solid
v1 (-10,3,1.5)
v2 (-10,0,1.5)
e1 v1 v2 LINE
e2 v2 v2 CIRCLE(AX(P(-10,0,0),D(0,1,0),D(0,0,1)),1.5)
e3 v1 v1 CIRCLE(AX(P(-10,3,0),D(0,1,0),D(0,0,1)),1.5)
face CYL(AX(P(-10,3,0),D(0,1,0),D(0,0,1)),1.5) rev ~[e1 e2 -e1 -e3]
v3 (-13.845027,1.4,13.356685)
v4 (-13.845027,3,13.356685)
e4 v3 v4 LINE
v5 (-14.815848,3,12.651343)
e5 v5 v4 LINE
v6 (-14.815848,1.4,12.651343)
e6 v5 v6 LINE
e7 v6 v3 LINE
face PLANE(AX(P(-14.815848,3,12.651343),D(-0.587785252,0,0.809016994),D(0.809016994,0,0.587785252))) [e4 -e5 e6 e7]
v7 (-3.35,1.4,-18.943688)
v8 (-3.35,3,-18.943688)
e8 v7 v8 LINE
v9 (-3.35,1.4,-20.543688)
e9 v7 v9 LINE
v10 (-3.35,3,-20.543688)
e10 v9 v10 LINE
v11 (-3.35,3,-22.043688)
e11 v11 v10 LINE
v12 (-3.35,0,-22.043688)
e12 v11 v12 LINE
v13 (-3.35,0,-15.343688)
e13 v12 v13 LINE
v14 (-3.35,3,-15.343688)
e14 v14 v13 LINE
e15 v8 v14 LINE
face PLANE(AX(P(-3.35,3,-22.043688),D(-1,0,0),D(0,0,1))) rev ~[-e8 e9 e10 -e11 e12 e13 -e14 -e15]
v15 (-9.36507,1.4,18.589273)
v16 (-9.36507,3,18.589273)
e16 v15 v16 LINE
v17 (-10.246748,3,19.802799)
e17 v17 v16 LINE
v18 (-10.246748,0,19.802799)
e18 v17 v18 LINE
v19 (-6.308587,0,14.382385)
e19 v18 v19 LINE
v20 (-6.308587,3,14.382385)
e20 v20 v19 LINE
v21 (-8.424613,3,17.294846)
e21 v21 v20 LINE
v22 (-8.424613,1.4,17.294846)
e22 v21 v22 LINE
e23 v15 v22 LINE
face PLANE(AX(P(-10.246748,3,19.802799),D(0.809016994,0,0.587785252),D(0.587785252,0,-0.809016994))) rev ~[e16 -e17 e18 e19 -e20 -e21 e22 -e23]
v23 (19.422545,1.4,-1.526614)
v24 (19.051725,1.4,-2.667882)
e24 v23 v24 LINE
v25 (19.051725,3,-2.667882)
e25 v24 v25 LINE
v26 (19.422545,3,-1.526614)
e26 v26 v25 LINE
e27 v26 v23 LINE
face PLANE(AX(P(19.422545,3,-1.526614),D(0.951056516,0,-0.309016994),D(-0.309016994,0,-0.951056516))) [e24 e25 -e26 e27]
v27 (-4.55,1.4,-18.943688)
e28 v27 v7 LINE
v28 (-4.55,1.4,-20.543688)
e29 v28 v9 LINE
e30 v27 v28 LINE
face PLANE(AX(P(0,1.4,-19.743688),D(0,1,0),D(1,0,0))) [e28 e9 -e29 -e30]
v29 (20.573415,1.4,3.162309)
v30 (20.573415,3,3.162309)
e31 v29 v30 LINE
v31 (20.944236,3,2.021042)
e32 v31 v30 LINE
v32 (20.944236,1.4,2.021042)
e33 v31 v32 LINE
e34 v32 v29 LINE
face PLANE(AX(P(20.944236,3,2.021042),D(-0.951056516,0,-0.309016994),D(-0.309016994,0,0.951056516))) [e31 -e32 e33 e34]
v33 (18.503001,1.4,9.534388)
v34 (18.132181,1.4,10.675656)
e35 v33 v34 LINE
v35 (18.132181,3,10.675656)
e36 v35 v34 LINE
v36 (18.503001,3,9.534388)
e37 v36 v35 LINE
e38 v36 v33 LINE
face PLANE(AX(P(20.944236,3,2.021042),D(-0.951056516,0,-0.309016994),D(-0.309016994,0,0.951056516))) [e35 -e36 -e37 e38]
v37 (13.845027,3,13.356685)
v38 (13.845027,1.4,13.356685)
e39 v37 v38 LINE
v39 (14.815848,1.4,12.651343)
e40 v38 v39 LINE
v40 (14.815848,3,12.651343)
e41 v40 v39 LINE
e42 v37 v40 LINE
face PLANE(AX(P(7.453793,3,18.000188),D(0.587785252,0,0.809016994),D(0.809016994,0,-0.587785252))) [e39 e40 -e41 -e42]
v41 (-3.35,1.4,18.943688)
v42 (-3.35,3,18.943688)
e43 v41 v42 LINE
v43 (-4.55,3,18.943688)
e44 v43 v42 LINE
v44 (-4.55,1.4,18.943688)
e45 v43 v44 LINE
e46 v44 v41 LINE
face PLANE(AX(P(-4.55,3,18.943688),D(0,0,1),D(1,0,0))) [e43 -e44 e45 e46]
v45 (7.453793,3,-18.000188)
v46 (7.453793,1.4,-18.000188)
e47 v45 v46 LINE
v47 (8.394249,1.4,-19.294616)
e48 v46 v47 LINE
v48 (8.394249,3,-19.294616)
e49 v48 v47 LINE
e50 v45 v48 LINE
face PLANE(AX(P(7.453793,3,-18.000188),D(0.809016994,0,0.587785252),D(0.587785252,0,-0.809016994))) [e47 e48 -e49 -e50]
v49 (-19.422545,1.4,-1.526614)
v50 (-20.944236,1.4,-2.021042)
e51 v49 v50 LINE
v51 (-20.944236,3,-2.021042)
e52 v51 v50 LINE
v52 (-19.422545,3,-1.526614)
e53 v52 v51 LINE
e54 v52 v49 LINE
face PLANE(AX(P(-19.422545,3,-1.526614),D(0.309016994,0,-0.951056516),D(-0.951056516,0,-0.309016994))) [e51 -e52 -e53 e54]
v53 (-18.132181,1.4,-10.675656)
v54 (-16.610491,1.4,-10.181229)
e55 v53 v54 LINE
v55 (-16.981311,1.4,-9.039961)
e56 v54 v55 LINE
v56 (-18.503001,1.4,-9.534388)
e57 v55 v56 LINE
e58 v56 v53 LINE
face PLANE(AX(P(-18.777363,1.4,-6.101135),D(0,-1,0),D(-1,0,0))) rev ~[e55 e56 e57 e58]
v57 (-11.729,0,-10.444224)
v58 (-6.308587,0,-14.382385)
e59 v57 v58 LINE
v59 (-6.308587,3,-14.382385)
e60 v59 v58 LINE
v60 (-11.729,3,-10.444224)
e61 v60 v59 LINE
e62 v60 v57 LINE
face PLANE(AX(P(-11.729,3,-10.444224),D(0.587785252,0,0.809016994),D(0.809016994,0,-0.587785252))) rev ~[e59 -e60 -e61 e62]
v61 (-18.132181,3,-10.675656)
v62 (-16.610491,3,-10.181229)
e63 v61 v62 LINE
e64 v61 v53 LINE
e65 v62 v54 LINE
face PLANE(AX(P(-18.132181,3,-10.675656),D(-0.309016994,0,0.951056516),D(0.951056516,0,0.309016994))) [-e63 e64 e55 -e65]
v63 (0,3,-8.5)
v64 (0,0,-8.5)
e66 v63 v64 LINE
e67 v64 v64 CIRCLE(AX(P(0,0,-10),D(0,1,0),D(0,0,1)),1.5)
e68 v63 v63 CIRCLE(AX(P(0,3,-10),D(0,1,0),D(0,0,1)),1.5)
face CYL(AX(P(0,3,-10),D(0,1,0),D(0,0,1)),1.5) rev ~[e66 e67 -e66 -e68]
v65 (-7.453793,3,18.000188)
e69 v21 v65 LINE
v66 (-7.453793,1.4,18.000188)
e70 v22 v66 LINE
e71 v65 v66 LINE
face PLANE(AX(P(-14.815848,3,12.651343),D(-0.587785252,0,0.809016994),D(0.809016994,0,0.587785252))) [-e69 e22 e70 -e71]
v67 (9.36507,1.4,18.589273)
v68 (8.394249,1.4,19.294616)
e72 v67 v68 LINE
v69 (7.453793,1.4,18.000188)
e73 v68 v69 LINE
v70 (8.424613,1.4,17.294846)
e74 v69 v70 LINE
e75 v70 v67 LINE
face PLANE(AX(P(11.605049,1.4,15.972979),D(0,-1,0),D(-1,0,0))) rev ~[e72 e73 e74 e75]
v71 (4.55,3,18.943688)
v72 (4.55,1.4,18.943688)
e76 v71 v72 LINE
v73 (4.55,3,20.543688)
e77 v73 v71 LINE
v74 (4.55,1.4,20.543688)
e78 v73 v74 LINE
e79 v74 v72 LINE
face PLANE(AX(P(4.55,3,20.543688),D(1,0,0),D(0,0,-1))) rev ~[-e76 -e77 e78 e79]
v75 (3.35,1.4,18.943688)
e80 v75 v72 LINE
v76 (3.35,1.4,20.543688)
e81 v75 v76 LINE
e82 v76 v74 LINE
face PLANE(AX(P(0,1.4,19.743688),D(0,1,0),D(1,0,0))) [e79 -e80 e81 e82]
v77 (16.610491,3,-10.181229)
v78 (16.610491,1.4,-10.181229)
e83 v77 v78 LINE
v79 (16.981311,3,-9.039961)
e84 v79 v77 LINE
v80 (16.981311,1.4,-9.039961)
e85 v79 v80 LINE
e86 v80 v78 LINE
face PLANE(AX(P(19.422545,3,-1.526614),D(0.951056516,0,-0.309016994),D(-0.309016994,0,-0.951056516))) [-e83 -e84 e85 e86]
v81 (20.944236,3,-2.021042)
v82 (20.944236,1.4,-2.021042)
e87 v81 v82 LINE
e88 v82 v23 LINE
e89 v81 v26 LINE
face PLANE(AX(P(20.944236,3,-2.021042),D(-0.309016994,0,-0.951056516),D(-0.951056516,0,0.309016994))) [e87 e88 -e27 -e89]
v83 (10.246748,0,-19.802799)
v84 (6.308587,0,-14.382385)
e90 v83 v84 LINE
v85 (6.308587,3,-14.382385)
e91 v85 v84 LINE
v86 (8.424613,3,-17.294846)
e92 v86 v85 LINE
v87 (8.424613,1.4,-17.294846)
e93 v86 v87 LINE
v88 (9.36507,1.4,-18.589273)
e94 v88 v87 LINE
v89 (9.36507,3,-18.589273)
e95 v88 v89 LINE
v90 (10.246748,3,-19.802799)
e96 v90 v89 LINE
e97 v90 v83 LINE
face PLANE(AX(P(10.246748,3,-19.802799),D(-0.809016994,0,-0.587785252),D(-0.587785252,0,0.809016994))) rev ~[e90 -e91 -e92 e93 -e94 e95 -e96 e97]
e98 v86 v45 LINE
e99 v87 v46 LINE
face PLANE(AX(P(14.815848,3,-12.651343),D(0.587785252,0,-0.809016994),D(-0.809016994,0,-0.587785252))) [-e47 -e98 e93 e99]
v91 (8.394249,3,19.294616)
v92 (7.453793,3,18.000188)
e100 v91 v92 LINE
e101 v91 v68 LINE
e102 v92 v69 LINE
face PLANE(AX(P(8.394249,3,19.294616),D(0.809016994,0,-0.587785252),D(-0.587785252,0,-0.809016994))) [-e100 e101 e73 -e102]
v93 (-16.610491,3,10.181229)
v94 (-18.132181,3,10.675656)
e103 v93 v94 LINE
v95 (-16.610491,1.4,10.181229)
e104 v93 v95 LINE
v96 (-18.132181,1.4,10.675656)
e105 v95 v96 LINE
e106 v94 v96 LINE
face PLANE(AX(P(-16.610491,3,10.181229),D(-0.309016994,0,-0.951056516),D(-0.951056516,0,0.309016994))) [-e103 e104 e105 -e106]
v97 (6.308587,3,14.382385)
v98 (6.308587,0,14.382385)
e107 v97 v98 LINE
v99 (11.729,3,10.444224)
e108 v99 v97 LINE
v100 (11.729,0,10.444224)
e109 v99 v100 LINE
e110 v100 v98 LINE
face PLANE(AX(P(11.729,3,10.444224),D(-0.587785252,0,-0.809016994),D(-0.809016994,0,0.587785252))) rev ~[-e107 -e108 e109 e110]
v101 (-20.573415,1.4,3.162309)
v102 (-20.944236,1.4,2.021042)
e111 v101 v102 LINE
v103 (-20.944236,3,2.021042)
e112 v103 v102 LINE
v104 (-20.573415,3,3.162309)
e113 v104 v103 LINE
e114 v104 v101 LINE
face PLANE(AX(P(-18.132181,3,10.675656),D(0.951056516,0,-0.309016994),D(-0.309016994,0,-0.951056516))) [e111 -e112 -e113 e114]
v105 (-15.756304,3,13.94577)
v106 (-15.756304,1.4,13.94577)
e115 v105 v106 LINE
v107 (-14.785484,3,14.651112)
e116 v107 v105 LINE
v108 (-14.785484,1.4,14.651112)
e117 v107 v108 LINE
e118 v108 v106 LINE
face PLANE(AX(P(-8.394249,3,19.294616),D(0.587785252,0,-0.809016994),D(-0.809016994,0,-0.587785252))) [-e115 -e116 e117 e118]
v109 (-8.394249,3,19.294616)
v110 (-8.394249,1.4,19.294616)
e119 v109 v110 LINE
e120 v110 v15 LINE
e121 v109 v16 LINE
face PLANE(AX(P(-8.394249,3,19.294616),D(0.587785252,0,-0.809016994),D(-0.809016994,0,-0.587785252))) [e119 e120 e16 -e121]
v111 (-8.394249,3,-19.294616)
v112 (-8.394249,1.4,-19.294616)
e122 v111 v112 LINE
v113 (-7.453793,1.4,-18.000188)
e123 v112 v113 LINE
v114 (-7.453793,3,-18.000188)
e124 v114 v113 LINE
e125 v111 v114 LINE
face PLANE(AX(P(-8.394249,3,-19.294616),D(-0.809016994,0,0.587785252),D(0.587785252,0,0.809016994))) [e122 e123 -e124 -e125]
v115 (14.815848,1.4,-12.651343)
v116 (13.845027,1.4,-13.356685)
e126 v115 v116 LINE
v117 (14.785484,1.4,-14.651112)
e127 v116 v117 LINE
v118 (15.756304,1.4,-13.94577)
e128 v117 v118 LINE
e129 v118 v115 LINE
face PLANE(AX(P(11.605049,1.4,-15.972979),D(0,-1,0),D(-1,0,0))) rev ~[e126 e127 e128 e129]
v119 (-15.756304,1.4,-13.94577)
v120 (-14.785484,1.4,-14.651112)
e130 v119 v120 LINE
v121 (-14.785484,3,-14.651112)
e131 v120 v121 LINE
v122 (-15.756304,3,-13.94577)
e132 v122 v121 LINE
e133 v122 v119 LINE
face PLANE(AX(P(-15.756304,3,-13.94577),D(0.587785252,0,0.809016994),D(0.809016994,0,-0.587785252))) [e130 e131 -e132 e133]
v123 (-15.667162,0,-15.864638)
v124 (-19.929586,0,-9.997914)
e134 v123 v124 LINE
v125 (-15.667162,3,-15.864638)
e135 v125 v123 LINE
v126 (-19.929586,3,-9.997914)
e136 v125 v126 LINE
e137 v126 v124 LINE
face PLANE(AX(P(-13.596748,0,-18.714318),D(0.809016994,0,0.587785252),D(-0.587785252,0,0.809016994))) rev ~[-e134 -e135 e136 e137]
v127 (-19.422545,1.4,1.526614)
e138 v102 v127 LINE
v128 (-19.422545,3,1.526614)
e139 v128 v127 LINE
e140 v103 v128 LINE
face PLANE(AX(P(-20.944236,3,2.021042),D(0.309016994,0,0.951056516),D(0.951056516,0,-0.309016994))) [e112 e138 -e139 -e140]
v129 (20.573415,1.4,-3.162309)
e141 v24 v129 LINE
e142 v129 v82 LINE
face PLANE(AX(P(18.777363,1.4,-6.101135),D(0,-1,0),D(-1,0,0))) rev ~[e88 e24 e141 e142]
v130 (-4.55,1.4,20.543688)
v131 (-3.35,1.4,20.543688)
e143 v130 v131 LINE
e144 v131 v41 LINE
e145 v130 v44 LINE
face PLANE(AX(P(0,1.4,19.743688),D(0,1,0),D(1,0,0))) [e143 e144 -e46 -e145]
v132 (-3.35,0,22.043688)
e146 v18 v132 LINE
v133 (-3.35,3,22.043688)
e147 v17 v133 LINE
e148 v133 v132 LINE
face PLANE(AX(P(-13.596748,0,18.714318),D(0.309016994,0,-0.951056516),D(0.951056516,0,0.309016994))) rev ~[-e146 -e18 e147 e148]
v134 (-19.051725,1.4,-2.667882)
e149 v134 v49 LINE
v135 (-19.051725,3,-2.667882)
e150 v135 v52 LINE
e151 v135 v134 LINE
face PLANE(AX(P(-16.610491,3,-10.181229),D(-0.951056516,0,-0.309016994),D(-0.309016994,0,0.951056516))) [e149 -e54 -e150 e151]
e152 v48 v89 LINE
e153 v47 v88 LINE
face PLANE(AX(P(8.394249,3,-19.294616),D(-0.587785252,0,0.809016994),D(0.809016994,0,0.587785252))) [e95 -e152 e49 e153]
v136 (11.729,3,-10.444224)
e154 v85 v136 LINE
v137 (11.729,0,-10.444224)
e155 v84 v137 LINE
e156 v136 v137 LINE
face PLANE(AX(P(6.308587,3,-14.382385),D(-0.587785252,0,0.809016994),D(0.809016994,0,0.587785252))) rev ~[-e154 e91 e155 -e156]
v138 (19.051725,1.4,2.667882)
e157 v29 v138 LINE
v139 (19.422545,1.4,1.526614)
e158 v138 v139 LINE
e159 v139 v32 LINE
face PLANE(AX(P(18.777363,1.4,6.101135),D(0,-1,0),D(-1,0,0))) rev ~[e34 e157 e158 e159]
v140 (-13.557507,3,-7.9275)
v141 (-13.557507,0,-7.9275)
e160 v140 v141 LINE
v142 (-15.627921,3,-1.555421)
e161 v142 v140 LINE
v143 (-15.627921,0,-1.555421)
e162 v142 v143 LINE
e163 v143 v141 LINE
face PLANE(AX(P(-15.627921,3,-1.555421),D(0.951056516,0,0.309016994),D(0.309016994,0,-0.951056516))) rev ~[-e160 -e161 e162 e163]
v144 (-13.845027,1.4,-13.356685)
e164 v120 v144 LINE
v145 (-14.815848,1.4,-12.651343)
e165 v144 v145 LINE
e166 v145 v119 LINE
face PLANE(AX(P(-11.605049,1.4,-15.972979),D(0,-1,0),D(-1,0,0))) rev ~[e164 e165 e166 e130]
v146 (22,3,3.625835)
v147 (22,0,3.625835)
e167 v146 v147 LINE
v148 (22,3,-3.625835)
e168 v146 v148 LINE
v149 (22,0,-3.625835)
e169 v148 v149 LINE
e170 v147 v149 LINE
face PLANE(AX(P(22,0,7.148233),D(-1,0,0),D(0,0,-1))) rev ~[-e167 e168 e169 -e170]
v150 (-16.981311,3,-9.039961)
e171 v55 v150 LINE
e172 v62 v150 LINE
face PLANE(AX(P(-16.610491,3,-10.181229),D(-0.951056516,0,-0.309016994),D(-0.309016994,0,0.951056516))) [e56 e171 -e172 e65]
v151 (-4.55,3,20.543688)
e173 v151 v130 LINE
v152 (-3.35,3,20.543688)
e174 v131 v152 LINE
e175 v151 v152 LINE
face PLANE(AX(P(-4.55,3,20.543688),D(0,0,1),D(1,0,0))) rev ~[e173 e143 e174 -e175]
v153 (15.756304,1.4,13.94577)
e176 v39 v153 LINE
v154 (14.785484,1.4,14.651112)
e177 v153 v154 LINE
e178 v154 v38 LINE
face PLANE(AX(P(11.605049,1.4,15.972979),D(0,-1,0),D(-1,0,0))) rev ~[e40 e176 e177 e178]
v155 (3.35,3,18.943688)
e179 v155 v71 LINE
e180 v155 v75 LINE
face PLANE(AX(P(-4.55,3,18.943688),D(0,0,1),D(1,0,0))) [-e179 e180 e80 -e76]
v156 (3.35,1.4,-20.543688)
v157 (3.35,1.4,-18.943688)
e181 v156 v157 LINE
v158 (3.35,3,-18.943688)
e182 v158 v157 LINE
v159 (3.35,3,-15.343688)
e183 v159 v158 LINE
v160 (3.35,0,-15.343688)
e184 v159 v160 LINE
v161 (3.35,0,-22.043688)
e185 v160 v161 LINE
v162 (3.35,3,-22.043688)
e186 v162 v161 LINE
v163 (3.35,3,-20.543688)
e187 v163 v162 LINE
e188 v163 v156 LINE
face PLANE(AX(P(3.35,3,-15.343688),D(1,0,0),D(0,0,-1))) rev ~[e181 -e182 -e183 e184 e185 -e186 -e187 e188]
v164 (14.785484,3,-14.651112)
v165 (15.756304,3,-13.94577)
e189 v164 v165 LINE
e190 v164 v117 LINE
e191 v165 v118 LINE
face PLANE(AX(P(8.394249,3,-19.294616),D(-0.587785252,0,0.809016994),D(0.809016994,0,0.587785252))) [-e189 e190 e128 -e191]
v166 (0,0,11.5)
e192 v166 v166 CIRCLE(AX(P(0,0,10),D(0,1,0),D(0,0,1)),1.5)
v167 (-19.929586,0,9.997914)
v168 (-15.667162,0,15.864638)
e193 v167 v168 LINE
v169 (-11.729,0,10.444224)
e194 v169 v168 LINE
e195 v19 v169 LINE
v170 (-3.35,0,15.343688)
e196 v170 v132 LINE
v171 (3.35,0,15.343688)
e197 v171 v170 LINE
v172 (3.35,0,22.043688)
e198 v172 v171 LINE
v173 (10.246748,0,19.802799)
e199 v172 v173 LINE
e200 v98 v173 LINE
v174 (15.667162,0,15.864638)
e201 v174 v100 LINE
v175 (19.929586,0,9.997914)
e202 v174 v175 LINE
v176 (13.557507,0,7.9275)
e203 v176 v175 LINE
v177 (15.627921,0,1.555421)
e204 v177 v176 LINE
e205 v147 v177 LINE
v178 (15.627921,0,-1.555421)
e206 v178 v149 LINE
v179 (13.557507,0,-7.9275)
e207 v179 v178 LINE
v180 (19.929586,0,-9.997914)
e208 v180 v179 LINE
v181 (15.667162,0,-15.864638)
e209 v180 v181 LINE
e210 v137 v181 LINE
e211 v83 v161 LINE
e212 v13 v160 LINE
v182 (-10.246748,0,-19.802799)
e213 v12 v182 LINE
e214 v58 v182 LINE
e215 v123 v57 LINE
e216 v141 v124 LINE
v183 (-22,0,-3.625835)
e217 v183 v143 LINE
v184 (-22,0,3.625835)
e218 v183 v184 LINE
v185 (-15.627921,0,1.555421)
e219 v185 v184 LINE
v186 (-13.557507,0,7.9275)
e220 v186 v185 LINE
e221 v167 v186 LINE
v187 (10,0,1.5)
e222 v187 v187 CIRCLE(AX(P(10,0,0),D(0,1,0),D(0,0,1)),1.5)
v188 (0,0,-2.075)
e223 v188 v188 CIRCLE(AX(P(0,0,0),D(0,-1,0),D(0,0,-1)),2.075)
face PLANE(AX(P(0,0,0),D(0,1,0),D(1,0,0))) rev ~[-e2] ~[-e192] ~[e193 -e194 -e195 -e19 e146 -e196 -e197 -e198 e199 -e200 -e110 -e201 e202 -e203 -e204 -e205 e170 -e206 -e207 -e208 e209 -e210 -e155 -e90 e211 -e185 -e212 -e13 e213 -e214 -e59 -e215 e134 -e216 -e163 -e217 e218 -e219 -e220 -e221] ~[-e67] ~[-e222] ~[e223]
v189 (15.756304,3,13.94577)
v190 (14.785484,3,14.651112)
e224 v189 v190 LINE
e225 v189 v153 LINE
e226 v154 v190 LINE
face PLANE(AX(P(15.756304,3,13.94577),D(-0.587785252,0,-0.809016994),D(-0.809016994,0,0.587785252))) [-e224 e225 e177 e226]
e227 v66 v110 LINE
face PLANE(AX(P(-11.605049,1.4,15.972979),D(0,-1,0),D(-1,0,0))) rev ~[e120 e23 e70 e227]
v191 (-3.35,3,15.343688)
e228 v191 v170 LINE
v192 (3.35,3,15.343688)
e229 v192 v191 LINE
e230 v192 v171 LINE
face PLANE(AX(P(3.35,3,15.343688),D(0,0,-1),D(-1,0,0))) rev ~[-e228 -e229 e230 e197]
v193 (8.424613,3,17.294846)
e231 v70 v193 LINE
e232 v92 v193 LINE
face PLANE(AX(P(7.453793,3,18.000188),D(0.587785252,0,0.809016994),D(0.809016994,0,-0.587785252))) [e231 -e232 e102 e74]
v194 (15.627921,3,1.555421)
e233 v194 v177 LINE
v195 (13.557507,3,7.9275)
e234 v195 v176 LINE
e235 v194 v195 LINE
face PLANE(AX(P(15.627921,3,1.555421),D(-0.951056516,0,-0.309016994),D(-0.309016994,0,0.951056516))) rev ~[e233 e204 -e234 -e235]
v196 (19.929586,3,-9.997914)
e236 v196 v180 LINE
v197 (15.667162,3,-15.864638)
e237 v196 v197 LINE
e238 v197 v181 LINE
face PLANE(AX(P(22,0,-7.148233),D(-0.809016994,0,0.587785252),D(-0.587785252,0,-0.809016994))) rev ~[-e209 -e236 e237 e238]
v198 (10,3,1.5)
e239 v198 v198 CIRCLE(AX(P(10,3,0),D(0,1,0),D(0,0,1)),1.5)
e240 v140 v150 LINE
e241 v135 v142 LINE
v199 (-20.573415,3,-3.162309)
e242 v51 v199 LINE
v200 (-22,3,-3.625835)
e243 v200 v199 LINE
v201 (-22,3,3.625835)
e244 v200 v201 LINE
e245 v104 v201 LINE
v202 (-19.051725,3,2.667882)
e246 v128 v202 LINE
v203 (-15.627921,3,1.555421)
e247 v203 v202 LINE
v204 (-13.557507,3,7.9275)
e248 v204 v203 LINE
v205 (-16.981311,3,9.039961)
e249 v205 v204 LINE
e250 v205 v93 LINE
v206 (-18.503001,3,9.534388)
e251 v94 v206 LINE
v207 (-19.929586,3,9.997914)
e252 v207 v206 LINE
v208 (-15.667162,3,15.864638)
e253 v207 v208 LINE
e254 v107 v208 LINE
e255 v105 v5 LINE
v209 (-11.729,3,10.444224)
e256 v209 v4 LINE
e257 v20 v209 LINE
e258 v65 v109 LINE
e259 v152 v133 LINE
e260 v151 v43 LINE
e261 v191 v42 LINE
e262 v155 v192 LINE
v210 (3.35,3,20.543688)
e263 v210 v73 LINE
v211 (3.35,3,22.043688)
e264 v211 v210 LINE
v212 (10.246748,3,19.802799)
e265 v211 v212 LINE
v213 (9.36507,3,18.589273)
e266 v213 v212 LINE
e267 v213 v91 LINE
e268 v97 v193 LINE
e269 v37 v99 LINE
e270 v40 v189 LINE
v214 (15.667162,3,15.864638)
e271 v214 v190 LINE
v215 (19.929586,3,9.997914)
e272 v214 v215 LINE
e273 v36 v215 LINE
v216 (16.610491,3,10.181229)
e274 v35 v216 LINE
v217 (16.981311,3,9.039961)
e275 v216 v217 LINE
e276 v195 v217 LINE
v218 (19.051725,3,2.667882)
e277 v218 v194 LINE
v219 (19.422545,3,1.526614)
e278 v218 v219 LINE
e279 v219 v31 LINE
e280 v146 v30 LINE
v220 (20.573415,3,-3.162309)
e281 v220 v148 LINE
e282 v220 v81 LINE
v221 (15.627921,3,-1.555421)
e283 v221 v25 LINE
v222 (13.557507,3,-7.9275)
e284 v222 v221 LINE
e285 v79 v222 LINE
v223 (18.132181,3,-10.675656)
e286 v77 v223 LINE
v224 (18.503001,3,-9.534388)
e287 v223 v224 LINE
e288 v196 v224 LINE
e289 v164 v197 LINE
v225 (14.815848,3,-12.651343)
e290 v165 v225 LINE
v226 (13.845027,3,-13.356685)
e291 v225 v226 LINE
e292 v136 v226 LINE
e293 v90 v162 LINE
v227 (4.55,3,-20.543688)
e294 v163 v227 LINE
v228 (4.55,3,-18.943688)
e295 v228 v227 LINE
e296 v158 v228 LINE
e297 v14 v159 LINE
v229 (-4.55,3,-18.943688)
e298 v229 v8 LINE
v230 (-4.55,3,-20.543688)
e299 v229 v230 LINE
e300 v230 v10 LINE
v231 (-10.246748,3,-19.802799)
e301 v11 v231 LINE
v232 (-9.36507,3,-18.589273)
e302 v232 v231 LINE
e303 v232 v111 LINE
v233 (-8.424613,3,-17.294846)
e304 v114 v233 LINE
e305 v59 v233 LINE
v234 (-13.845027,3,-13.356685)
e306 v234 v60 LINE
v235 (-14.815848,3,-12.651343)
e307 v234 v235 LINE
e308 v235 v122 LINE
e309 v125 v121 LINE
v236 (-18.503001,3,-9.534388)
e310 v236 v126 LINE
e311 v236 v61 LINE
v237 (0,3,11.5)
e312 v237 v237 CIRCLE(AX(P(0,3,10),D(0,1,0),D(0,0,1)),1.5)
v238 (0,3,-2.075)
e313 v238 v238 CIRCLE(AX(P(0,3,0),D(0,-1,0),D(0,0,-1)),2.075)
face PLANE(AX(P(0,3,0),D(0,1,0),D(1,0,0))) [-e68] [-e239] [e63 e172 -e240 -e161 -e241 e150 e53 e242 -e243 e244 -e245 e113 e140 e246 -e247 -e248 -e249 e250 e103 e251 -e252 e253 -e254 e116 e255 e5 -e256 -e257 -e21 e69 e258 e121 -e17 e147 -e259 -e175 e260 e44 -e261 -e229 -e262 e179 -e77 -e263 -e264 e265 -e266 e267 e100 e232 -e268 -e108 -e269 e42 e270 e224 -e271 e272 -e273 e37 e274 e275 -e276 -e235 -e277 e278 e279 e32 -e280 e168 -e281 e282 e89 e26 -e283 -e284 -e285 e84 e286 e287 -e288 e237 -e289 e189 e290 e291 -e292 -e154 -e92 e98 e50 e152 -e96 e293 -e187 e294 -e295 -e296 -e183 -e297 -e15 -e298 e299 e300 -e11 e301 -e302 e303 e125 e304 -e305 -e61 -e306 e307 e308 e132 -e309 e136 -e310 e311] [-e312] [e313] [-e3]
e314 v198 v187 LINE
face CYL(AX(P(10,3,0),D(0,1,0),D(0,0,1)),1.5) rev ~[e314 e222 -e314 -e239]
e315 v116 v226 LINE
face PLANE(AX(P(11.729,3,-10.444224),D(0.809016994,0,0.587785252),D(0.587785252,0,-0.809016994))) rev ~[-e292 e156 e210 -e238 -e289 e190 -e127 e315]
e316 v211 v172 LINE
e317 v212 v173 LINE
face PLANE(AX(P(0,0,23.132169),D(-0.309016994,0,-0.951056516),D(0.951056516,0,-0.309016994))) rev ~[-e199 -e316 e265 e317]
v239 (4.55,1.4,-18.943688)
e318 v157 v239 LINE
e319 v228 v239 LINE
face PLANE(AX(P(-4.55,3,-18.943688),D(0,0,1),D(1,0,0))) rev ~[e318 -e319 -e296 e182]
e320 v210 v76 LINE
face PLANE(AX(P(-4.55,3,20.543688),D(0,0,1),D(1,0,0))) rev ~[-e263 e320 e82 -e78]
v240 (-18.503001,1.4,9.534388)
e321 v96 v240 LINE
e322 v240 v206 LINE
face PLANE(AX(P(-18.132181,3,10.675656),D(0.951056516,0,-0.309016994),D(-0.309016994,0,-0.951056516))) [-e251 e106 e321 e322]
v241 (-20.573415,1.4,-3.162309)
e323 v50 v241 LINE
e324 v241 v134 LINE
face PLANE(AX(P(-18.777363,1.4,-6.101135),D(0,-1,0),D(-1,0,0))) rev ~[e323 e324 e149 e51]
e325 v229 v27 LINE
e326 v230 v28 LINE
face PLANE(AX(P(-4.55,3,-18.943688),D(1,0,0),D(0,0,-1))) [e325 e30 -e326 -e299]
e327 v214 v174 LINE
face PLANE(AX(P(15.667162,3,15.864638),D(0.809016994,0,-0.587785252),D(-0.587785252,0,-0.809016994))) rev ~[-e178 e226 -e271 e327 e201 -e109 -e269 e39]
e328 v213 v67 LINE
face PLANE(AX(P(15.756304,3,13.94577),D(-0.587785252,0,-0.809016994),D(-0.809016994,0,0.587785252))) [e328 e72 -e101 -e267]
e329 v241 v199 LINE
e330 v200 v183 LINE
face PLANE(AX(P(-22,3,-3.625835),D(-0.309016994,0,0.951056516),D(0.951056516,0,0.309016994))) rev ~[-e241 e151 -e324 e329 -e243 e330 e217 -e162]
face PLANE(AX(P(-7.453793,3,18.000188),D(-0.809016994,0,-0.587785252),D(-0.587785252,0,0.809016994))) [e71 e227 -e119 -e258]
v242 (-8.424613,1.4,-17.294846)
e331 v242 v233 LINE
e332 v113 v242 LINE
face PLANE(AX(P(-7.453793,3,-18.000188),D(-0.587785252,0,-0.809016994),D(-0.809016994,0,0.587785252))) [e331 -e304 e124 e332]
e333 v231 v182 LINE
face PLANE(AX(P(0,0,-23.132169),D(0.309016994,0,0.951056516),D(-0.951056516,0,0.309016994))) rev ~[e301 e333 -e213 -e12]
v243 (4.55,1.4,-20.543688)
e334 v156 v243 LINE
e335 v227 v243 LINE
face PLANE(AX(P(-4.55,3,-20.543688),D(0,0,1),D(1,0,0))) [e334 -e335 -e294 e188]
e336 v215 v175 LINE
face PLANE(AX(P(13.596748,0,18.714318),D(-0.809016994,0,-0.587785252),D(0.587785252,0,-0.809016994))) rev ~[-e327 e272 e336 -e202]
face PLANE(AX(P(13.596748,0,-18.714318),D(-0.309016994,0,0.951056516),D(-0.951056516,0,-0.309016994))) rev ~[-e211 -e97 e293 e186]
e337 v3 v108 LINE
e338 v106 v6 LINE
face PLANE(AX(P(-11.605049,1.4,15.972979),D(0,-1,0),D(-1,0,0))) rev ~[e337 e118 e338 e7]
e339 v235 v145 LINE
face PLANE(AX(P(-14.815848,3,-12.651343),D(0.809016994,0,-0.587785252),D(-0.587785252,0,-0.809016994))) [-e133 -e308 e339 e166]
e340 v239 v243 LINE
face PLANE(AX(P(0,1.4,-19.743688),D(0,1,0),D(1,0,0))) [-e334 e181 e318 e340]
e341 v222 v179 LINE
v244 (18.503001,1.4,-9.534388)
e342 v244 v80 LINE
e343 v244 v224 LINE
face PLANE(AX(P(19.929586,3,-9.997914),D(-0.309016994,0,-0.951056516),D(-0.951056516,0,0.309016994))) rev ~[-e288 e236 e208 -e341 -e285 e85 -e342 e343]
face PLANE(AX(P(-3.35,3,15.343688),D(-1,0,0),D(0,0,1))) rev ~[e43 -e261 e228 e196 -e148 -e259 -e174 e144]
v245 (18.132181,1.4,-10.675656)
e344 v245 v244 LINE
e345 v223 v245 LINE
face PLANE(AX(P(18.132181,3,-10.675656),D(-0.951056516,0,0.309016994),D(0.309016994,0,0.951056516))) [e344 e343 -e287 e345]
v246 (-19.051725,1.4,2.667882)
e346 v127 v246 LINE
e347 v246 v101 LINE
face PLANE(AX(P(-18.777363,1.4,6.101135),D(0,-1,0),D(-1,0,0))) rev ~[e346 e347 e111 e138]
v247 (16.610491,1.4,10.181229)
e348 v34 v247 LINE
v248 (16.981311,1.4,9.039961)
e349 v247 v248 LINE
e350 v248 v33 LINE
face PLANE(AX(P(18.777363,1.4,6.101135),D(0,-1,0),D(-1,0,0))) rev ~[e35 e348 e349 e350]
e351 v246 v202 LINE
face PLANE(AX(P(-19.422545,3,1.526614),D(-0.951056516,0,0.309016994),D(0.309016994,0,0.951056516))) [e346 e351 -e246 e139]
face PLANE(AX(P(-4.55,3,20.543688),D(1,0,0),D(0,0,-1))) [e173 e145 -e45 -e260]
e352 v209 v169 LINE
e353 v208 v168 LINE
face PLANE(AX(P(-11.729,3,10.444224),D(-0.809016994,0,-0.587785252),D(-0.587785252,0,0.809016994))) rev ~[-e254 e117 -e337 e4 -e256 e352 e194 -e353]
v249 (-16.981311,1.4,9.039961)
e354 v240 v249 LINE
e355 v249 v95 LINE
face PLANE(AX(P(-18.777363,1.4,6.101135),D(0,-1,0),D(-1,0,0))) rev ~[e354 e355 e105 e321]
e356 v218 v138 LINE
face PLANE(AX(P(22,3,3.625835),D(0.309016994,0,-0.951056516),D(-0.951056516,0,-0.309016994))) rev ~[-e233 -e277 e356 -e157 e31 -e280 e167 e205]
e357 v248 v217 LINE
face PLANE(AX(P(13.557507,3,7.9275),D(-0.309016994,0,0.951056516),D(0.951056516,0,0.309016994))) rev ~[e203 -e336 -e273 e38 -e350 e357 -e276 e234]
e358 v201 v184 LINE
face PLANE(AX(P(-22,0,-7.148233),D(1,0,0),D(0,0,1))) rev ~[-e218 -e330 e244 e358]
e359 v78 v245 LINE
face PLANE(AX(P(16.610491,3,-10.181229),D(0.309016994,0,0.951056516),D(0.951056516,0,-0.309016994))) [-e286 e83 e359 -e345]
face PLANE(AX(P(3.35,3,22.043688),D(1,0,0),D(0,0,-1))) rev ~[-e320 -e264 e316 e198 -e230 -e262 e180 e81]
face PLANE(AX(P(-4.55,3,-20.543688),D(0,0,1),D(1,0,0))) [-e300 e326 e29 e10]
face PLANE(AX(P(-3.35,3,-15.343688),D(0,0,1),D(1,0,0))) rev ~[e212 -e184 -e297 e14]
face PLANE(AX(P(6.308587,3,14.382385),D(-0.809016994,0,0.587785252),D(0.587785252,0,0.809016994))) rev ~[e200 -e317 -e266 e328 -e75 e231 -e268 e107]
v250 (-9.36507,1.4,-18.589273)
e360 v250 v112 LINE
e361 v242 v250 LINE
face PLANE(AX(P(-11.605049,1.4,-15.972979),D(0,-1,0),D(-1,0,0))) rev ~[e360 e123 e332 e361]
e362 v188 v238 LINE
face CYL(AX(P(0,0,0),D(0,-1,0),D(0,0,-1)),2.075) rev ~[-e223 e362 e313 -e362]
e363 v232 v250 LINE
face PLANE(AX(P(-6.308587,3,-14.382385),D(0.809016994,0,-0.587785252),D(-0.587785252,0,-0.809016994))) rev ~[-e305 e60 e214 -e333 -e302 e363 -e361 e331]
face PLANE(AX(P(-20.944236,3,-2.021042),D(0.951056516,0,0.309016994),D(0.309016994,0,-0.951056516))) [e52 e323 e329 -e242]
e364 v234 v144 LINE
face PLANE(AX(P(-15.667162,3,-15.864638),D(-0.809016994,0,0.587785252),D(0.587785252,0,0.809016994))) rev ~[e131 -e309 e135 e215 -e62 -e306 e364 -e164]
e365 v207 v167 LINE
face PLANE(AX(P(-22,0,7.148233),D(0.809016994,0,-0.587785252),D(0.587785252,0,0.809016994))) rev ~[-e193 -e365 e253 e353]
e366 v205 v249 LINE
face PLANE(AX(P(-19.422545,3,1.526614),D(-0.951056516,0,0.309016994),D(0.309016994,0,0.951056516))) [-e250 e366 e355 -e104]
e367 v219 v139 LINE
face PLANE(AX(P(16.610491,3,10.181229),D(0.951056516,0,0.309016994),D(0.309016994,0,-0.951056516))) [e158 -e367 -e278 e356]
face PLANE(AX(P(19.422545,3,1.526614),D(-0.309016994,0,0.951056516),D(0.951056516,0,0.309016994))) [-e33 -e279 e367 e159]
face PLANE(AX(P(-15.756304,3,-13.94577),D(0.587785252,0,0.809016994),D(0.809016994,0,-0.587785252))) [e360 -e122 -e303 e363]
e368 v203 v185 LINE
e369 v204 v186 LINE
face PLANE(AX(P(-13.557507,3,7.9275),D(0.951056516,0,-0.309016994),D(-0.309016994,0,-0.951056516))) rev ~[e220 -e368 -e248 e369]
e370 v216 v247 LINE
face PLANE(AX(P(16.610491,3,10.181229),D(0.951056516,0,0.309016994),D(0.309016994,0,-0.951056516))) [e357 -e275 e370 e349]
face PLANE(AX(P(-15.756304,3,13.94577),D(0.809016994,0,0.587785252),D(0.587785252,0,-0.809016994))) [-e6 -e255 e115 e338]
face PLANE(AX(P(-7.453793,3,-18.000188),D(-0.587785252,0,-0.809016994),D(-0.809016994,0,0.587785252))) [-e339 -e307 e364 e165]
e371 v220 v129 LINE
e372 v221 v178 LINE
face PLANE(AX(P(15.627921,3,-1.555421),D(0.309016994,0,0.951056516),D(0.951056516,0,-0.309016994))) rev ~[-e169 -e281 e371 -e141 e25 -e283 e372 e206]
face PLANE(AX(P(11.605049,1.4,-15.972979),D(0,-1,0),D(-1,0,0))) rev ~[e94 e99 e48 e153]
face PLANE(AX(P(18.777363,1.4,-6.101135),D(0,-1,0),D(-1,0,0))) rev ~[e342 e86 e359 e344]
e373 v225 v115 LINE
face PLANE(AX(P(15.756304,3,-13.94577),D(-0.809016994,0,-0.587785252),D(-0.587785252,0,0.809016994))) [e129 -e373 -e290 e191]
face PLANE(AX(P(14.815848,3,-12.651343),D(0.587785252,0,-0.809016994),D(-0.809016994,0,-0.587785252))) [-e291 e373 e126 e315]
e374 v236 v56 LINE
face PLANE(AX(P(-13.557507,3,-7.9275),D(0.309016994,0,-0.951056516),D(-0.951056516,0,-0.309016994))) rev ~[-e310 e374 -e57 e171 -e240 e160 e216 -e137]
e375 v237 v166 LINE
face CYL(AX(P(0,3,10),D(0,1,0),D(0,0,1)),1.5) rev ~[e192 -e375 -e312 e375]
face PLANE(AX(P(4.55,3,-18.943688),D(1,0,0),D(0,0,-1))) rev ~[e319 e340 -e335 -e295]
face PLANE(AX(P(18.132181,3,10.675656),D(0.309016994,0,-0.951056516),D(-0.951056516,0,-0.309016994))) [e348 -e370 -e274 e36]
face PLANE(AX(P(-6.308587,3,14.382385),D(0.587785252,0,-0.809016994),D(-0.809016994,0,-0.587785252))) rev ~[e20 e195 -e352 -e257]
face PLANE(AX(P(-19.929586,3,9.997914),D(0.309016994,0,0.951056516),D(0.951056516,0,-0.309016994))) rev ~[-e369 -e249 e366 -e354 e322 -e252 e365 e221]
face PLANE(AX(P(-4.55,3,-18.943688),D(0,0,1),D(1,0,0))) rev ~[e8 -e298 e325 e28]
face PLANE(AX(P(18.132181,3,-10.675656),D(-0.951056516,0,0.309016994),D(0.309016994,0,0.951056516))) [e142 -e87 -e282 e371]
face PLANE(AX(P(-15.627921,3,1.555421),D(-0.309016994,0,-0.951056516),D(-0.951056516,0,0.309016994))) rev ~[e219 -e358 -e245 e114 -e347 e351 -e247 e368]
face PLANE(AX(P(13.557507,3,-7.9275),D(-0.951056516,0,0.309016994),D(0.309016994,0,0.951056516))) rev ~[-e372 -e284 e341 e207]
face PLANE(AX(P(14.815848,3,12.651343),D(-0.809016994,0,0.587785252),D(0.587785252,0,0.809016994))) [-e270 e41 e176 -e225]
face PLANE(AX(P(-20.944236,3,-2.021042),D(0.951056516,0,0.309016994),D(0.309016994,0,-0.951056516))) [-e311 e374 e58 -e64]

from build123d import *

# Parameters (mm, degrees)
BOSS_EXTRUDE1_DEPTH = 3
CUT_EXTRUDE1_DEPTH  = 3
SKETCH7_R           = 1.5
CUT_EXTRUDE3_DEPTH  = 3
SKETCH4_W           = 9.1
SKETCH4_H           = 1.6
CUT_EXTRUDE2_DEPTH  = 1.6
SKETCH10_R          = 2.075
CUT_EXTRUDE6_DEPTH  = 3


with BuildPart() as part:
    # Sketch1 → Boss-Extrude1 (new body)
    with BuildSketch(Plane(origin=(0, 0, 0), x_dir=(1, 0, 0), z_dir=(0, 1, 0))):
        Polygon((0, 23.132168933), (-13.596747752, 18.714317784), (-22, 7.148233317), (-22, -7.148233317), (-13.596747752, -18.714317784), (0, -23.132168933), (13.596747752, -18.714317784), (22, -7.148233317), (22, 7.148233317), (13.596747752, 18.714317784), align=None)
    extrude(amount=BOSS_EXTRUDE1_DEPTH)

    # Sketch2 → Cut-Extrude1 (cut)
    with BuildSketch(Plane(origin=(0, 3, 0), x_dir=(1, 0, 0), z_dir=(0, 1, 0))):
        Polygon((0, 23.132168933), (-3.35, 22.043687951), (-3.35, 15.343687951), (3.35, 15.343687951), (3.35, 22.043687951), align=None)
        Polygon((11.729000424, 10.444223713), (15.667161615, 15.864637576), (13.596747752, 18.714317784), (10.246747752, 19.802798766), (6.308586562, 14.382384904), align=None)
        Polygon((15.627921341, 1.555421004), (22, 3.625834866), (22, 7.148233317), (19.929586138, 9.997913525), (13.557507479, 7.927499663), align=None)
        Polygon((13.557507479, -7.927499663), (19.929586138, -9.997913525), (22, -7.148233317), (22, -3.625834866), (15.627921341, -1.555421004), align=None)
        Polygon((6.308586562, -14.382384904), (10.246747752, -19.802798766), (13.596747752, -18.714317784), (15.667161615, -15.864637576), (11.729000424, -10.444223713), align=None)
        Polygon((-3.35, -15.343687951), (-3.35, -22.043687951), (0, -23.132168933), (3.35, -22.043687951), (3.35, -15.343687951), align=None)
        Polygon((-11.729000424, -10.444223713), (-15.667161615, -15.864637576), (-13.596747752, -18.714317784), (-10.246747752, -19.802798766), (-6.308586562, -14.382384904), align=None)
        Polygon((-15.627921341, -1.555421004), (-22, -3.625834866), (-22, -7.148233317), (-19.929586138, -9.997913525), (-13.557507479, -7.927499663), align=None)
        Polygon((-13.557507479, 7.927499663), (-19.929586138, 9.997913525), (-22, 7.148233317), (-22, 3.625834866), (-15.627921341, 1.555421004), align=None)
        Polygon((-6.308586562, 14.382384904), (-10.246747752, 19.802798766), (-13.596747752, 18.714317784), (-15.667161615, 15.864637576), (-11.729000424, 10.444223713), align=None)
    extrude(amount=-CUT_EXTRUDE1_DEPTH, mode=Mode.SUBTRACT)

    # Sketch7 → Cut-Extrude3 (cut)
    with BuildSketch(Plane(origin=(0, 3, 0), x_dir=(1, 0, 0), z_dir=(0, 1, 0))):
        with Locations(Location((0, 10, 0), (0, 0, 270))):
            Circle(SKETCH7_R)
        with Locations(Location((10, 0, 0), (0, 0, 270))):
            Circle(SKETCH7_R)
        with Locations(Location((0, -10, 0), (0, 0, 270))):
            Circle(SKETCH7_R)
        with Locations(Location((-10, 0, 0), (0, 0, 270))):
            Circle(SKETCH7_R)
    extrude(amount=-CUT_EXTRUDE3_DEPTH, mode=Mode.SUBTRACT)

    # Sketch4 → Cut-Extrude2 (cut)
    with BuildSketch(Plane(origin=(0, 3, 0), x_dir=(1, 0, 0), z_dir=(0, 1, 0))):
        with Locations((0, 19.743687951)):
            Rectangle(SKETCH4_W, SKETCH4_H)
        Polygon((7.453793077, 18.000188386), (8.394249481, 19.294615577), (15.75630413, 13.945769781), (14.815847726, 12.65134259), align=None)
        Polygon((16.610490544, 10.181228662), (18.13218097, 10.675655853), (20.944235619, 2.021041555), (19.422545193, 1.526614364), align=None)
        Polygon((19.422545193, -1.526614364), (20.944235619, -2.021041555), (18.13218097, -10.675655853), (16.610490544, -10.181228662), align=None)
        Polygon((14.815847726, -12.65134259), (15.75630413, -13.945769781), (8.394249481, -19.294615577), (7.453793077, -18.000188386), align=None)
        with Locations((0, -19.743687951)):
            Rectangle(SKETCH4_W, SKETCH4_H)
        Polygon((-7.453793077, -18.000188386), (-8.394249481, -19.294615577), (-15.75630413, -13.945769781), (-14.815847726, -12.65134259), align=None)
        Polygon((-16.610490544, -10.181228662), (-18.13218097, -10.675655853), (-20.944235619, -2.021041555), (-19.422545193, -1.526614364), align=None)
        Polygon((-19.422545193, 1.526614364), (-20.944235619, 2.021041555), (-18.13218097, 10.675655853), (-16.610490544, 10.181228662), align=None)
        Polygon((-14.815847726, 12.65134259), (-15.75630413, 13.945769781), (-8.394249481, 19.294615577), (-7.453793077, 18.000188386), align=None)
    extrude(amount=-CUT_EXTRUDE2_DEPTH, mode=Mode.SUBTRACT)

    # Sketch10 → Cut-Extrude6 (cut)
    with BuildSketch(Plane.XZ):
        with Locations(Location((0, 0, 0), (0, 0, 270))):
            Circle(SKETCH10_R)
    extrude(amount=-CUT_EXTRUDE6_DEPTH, mode=Mode.SUBTRACT)


solid = part.part
